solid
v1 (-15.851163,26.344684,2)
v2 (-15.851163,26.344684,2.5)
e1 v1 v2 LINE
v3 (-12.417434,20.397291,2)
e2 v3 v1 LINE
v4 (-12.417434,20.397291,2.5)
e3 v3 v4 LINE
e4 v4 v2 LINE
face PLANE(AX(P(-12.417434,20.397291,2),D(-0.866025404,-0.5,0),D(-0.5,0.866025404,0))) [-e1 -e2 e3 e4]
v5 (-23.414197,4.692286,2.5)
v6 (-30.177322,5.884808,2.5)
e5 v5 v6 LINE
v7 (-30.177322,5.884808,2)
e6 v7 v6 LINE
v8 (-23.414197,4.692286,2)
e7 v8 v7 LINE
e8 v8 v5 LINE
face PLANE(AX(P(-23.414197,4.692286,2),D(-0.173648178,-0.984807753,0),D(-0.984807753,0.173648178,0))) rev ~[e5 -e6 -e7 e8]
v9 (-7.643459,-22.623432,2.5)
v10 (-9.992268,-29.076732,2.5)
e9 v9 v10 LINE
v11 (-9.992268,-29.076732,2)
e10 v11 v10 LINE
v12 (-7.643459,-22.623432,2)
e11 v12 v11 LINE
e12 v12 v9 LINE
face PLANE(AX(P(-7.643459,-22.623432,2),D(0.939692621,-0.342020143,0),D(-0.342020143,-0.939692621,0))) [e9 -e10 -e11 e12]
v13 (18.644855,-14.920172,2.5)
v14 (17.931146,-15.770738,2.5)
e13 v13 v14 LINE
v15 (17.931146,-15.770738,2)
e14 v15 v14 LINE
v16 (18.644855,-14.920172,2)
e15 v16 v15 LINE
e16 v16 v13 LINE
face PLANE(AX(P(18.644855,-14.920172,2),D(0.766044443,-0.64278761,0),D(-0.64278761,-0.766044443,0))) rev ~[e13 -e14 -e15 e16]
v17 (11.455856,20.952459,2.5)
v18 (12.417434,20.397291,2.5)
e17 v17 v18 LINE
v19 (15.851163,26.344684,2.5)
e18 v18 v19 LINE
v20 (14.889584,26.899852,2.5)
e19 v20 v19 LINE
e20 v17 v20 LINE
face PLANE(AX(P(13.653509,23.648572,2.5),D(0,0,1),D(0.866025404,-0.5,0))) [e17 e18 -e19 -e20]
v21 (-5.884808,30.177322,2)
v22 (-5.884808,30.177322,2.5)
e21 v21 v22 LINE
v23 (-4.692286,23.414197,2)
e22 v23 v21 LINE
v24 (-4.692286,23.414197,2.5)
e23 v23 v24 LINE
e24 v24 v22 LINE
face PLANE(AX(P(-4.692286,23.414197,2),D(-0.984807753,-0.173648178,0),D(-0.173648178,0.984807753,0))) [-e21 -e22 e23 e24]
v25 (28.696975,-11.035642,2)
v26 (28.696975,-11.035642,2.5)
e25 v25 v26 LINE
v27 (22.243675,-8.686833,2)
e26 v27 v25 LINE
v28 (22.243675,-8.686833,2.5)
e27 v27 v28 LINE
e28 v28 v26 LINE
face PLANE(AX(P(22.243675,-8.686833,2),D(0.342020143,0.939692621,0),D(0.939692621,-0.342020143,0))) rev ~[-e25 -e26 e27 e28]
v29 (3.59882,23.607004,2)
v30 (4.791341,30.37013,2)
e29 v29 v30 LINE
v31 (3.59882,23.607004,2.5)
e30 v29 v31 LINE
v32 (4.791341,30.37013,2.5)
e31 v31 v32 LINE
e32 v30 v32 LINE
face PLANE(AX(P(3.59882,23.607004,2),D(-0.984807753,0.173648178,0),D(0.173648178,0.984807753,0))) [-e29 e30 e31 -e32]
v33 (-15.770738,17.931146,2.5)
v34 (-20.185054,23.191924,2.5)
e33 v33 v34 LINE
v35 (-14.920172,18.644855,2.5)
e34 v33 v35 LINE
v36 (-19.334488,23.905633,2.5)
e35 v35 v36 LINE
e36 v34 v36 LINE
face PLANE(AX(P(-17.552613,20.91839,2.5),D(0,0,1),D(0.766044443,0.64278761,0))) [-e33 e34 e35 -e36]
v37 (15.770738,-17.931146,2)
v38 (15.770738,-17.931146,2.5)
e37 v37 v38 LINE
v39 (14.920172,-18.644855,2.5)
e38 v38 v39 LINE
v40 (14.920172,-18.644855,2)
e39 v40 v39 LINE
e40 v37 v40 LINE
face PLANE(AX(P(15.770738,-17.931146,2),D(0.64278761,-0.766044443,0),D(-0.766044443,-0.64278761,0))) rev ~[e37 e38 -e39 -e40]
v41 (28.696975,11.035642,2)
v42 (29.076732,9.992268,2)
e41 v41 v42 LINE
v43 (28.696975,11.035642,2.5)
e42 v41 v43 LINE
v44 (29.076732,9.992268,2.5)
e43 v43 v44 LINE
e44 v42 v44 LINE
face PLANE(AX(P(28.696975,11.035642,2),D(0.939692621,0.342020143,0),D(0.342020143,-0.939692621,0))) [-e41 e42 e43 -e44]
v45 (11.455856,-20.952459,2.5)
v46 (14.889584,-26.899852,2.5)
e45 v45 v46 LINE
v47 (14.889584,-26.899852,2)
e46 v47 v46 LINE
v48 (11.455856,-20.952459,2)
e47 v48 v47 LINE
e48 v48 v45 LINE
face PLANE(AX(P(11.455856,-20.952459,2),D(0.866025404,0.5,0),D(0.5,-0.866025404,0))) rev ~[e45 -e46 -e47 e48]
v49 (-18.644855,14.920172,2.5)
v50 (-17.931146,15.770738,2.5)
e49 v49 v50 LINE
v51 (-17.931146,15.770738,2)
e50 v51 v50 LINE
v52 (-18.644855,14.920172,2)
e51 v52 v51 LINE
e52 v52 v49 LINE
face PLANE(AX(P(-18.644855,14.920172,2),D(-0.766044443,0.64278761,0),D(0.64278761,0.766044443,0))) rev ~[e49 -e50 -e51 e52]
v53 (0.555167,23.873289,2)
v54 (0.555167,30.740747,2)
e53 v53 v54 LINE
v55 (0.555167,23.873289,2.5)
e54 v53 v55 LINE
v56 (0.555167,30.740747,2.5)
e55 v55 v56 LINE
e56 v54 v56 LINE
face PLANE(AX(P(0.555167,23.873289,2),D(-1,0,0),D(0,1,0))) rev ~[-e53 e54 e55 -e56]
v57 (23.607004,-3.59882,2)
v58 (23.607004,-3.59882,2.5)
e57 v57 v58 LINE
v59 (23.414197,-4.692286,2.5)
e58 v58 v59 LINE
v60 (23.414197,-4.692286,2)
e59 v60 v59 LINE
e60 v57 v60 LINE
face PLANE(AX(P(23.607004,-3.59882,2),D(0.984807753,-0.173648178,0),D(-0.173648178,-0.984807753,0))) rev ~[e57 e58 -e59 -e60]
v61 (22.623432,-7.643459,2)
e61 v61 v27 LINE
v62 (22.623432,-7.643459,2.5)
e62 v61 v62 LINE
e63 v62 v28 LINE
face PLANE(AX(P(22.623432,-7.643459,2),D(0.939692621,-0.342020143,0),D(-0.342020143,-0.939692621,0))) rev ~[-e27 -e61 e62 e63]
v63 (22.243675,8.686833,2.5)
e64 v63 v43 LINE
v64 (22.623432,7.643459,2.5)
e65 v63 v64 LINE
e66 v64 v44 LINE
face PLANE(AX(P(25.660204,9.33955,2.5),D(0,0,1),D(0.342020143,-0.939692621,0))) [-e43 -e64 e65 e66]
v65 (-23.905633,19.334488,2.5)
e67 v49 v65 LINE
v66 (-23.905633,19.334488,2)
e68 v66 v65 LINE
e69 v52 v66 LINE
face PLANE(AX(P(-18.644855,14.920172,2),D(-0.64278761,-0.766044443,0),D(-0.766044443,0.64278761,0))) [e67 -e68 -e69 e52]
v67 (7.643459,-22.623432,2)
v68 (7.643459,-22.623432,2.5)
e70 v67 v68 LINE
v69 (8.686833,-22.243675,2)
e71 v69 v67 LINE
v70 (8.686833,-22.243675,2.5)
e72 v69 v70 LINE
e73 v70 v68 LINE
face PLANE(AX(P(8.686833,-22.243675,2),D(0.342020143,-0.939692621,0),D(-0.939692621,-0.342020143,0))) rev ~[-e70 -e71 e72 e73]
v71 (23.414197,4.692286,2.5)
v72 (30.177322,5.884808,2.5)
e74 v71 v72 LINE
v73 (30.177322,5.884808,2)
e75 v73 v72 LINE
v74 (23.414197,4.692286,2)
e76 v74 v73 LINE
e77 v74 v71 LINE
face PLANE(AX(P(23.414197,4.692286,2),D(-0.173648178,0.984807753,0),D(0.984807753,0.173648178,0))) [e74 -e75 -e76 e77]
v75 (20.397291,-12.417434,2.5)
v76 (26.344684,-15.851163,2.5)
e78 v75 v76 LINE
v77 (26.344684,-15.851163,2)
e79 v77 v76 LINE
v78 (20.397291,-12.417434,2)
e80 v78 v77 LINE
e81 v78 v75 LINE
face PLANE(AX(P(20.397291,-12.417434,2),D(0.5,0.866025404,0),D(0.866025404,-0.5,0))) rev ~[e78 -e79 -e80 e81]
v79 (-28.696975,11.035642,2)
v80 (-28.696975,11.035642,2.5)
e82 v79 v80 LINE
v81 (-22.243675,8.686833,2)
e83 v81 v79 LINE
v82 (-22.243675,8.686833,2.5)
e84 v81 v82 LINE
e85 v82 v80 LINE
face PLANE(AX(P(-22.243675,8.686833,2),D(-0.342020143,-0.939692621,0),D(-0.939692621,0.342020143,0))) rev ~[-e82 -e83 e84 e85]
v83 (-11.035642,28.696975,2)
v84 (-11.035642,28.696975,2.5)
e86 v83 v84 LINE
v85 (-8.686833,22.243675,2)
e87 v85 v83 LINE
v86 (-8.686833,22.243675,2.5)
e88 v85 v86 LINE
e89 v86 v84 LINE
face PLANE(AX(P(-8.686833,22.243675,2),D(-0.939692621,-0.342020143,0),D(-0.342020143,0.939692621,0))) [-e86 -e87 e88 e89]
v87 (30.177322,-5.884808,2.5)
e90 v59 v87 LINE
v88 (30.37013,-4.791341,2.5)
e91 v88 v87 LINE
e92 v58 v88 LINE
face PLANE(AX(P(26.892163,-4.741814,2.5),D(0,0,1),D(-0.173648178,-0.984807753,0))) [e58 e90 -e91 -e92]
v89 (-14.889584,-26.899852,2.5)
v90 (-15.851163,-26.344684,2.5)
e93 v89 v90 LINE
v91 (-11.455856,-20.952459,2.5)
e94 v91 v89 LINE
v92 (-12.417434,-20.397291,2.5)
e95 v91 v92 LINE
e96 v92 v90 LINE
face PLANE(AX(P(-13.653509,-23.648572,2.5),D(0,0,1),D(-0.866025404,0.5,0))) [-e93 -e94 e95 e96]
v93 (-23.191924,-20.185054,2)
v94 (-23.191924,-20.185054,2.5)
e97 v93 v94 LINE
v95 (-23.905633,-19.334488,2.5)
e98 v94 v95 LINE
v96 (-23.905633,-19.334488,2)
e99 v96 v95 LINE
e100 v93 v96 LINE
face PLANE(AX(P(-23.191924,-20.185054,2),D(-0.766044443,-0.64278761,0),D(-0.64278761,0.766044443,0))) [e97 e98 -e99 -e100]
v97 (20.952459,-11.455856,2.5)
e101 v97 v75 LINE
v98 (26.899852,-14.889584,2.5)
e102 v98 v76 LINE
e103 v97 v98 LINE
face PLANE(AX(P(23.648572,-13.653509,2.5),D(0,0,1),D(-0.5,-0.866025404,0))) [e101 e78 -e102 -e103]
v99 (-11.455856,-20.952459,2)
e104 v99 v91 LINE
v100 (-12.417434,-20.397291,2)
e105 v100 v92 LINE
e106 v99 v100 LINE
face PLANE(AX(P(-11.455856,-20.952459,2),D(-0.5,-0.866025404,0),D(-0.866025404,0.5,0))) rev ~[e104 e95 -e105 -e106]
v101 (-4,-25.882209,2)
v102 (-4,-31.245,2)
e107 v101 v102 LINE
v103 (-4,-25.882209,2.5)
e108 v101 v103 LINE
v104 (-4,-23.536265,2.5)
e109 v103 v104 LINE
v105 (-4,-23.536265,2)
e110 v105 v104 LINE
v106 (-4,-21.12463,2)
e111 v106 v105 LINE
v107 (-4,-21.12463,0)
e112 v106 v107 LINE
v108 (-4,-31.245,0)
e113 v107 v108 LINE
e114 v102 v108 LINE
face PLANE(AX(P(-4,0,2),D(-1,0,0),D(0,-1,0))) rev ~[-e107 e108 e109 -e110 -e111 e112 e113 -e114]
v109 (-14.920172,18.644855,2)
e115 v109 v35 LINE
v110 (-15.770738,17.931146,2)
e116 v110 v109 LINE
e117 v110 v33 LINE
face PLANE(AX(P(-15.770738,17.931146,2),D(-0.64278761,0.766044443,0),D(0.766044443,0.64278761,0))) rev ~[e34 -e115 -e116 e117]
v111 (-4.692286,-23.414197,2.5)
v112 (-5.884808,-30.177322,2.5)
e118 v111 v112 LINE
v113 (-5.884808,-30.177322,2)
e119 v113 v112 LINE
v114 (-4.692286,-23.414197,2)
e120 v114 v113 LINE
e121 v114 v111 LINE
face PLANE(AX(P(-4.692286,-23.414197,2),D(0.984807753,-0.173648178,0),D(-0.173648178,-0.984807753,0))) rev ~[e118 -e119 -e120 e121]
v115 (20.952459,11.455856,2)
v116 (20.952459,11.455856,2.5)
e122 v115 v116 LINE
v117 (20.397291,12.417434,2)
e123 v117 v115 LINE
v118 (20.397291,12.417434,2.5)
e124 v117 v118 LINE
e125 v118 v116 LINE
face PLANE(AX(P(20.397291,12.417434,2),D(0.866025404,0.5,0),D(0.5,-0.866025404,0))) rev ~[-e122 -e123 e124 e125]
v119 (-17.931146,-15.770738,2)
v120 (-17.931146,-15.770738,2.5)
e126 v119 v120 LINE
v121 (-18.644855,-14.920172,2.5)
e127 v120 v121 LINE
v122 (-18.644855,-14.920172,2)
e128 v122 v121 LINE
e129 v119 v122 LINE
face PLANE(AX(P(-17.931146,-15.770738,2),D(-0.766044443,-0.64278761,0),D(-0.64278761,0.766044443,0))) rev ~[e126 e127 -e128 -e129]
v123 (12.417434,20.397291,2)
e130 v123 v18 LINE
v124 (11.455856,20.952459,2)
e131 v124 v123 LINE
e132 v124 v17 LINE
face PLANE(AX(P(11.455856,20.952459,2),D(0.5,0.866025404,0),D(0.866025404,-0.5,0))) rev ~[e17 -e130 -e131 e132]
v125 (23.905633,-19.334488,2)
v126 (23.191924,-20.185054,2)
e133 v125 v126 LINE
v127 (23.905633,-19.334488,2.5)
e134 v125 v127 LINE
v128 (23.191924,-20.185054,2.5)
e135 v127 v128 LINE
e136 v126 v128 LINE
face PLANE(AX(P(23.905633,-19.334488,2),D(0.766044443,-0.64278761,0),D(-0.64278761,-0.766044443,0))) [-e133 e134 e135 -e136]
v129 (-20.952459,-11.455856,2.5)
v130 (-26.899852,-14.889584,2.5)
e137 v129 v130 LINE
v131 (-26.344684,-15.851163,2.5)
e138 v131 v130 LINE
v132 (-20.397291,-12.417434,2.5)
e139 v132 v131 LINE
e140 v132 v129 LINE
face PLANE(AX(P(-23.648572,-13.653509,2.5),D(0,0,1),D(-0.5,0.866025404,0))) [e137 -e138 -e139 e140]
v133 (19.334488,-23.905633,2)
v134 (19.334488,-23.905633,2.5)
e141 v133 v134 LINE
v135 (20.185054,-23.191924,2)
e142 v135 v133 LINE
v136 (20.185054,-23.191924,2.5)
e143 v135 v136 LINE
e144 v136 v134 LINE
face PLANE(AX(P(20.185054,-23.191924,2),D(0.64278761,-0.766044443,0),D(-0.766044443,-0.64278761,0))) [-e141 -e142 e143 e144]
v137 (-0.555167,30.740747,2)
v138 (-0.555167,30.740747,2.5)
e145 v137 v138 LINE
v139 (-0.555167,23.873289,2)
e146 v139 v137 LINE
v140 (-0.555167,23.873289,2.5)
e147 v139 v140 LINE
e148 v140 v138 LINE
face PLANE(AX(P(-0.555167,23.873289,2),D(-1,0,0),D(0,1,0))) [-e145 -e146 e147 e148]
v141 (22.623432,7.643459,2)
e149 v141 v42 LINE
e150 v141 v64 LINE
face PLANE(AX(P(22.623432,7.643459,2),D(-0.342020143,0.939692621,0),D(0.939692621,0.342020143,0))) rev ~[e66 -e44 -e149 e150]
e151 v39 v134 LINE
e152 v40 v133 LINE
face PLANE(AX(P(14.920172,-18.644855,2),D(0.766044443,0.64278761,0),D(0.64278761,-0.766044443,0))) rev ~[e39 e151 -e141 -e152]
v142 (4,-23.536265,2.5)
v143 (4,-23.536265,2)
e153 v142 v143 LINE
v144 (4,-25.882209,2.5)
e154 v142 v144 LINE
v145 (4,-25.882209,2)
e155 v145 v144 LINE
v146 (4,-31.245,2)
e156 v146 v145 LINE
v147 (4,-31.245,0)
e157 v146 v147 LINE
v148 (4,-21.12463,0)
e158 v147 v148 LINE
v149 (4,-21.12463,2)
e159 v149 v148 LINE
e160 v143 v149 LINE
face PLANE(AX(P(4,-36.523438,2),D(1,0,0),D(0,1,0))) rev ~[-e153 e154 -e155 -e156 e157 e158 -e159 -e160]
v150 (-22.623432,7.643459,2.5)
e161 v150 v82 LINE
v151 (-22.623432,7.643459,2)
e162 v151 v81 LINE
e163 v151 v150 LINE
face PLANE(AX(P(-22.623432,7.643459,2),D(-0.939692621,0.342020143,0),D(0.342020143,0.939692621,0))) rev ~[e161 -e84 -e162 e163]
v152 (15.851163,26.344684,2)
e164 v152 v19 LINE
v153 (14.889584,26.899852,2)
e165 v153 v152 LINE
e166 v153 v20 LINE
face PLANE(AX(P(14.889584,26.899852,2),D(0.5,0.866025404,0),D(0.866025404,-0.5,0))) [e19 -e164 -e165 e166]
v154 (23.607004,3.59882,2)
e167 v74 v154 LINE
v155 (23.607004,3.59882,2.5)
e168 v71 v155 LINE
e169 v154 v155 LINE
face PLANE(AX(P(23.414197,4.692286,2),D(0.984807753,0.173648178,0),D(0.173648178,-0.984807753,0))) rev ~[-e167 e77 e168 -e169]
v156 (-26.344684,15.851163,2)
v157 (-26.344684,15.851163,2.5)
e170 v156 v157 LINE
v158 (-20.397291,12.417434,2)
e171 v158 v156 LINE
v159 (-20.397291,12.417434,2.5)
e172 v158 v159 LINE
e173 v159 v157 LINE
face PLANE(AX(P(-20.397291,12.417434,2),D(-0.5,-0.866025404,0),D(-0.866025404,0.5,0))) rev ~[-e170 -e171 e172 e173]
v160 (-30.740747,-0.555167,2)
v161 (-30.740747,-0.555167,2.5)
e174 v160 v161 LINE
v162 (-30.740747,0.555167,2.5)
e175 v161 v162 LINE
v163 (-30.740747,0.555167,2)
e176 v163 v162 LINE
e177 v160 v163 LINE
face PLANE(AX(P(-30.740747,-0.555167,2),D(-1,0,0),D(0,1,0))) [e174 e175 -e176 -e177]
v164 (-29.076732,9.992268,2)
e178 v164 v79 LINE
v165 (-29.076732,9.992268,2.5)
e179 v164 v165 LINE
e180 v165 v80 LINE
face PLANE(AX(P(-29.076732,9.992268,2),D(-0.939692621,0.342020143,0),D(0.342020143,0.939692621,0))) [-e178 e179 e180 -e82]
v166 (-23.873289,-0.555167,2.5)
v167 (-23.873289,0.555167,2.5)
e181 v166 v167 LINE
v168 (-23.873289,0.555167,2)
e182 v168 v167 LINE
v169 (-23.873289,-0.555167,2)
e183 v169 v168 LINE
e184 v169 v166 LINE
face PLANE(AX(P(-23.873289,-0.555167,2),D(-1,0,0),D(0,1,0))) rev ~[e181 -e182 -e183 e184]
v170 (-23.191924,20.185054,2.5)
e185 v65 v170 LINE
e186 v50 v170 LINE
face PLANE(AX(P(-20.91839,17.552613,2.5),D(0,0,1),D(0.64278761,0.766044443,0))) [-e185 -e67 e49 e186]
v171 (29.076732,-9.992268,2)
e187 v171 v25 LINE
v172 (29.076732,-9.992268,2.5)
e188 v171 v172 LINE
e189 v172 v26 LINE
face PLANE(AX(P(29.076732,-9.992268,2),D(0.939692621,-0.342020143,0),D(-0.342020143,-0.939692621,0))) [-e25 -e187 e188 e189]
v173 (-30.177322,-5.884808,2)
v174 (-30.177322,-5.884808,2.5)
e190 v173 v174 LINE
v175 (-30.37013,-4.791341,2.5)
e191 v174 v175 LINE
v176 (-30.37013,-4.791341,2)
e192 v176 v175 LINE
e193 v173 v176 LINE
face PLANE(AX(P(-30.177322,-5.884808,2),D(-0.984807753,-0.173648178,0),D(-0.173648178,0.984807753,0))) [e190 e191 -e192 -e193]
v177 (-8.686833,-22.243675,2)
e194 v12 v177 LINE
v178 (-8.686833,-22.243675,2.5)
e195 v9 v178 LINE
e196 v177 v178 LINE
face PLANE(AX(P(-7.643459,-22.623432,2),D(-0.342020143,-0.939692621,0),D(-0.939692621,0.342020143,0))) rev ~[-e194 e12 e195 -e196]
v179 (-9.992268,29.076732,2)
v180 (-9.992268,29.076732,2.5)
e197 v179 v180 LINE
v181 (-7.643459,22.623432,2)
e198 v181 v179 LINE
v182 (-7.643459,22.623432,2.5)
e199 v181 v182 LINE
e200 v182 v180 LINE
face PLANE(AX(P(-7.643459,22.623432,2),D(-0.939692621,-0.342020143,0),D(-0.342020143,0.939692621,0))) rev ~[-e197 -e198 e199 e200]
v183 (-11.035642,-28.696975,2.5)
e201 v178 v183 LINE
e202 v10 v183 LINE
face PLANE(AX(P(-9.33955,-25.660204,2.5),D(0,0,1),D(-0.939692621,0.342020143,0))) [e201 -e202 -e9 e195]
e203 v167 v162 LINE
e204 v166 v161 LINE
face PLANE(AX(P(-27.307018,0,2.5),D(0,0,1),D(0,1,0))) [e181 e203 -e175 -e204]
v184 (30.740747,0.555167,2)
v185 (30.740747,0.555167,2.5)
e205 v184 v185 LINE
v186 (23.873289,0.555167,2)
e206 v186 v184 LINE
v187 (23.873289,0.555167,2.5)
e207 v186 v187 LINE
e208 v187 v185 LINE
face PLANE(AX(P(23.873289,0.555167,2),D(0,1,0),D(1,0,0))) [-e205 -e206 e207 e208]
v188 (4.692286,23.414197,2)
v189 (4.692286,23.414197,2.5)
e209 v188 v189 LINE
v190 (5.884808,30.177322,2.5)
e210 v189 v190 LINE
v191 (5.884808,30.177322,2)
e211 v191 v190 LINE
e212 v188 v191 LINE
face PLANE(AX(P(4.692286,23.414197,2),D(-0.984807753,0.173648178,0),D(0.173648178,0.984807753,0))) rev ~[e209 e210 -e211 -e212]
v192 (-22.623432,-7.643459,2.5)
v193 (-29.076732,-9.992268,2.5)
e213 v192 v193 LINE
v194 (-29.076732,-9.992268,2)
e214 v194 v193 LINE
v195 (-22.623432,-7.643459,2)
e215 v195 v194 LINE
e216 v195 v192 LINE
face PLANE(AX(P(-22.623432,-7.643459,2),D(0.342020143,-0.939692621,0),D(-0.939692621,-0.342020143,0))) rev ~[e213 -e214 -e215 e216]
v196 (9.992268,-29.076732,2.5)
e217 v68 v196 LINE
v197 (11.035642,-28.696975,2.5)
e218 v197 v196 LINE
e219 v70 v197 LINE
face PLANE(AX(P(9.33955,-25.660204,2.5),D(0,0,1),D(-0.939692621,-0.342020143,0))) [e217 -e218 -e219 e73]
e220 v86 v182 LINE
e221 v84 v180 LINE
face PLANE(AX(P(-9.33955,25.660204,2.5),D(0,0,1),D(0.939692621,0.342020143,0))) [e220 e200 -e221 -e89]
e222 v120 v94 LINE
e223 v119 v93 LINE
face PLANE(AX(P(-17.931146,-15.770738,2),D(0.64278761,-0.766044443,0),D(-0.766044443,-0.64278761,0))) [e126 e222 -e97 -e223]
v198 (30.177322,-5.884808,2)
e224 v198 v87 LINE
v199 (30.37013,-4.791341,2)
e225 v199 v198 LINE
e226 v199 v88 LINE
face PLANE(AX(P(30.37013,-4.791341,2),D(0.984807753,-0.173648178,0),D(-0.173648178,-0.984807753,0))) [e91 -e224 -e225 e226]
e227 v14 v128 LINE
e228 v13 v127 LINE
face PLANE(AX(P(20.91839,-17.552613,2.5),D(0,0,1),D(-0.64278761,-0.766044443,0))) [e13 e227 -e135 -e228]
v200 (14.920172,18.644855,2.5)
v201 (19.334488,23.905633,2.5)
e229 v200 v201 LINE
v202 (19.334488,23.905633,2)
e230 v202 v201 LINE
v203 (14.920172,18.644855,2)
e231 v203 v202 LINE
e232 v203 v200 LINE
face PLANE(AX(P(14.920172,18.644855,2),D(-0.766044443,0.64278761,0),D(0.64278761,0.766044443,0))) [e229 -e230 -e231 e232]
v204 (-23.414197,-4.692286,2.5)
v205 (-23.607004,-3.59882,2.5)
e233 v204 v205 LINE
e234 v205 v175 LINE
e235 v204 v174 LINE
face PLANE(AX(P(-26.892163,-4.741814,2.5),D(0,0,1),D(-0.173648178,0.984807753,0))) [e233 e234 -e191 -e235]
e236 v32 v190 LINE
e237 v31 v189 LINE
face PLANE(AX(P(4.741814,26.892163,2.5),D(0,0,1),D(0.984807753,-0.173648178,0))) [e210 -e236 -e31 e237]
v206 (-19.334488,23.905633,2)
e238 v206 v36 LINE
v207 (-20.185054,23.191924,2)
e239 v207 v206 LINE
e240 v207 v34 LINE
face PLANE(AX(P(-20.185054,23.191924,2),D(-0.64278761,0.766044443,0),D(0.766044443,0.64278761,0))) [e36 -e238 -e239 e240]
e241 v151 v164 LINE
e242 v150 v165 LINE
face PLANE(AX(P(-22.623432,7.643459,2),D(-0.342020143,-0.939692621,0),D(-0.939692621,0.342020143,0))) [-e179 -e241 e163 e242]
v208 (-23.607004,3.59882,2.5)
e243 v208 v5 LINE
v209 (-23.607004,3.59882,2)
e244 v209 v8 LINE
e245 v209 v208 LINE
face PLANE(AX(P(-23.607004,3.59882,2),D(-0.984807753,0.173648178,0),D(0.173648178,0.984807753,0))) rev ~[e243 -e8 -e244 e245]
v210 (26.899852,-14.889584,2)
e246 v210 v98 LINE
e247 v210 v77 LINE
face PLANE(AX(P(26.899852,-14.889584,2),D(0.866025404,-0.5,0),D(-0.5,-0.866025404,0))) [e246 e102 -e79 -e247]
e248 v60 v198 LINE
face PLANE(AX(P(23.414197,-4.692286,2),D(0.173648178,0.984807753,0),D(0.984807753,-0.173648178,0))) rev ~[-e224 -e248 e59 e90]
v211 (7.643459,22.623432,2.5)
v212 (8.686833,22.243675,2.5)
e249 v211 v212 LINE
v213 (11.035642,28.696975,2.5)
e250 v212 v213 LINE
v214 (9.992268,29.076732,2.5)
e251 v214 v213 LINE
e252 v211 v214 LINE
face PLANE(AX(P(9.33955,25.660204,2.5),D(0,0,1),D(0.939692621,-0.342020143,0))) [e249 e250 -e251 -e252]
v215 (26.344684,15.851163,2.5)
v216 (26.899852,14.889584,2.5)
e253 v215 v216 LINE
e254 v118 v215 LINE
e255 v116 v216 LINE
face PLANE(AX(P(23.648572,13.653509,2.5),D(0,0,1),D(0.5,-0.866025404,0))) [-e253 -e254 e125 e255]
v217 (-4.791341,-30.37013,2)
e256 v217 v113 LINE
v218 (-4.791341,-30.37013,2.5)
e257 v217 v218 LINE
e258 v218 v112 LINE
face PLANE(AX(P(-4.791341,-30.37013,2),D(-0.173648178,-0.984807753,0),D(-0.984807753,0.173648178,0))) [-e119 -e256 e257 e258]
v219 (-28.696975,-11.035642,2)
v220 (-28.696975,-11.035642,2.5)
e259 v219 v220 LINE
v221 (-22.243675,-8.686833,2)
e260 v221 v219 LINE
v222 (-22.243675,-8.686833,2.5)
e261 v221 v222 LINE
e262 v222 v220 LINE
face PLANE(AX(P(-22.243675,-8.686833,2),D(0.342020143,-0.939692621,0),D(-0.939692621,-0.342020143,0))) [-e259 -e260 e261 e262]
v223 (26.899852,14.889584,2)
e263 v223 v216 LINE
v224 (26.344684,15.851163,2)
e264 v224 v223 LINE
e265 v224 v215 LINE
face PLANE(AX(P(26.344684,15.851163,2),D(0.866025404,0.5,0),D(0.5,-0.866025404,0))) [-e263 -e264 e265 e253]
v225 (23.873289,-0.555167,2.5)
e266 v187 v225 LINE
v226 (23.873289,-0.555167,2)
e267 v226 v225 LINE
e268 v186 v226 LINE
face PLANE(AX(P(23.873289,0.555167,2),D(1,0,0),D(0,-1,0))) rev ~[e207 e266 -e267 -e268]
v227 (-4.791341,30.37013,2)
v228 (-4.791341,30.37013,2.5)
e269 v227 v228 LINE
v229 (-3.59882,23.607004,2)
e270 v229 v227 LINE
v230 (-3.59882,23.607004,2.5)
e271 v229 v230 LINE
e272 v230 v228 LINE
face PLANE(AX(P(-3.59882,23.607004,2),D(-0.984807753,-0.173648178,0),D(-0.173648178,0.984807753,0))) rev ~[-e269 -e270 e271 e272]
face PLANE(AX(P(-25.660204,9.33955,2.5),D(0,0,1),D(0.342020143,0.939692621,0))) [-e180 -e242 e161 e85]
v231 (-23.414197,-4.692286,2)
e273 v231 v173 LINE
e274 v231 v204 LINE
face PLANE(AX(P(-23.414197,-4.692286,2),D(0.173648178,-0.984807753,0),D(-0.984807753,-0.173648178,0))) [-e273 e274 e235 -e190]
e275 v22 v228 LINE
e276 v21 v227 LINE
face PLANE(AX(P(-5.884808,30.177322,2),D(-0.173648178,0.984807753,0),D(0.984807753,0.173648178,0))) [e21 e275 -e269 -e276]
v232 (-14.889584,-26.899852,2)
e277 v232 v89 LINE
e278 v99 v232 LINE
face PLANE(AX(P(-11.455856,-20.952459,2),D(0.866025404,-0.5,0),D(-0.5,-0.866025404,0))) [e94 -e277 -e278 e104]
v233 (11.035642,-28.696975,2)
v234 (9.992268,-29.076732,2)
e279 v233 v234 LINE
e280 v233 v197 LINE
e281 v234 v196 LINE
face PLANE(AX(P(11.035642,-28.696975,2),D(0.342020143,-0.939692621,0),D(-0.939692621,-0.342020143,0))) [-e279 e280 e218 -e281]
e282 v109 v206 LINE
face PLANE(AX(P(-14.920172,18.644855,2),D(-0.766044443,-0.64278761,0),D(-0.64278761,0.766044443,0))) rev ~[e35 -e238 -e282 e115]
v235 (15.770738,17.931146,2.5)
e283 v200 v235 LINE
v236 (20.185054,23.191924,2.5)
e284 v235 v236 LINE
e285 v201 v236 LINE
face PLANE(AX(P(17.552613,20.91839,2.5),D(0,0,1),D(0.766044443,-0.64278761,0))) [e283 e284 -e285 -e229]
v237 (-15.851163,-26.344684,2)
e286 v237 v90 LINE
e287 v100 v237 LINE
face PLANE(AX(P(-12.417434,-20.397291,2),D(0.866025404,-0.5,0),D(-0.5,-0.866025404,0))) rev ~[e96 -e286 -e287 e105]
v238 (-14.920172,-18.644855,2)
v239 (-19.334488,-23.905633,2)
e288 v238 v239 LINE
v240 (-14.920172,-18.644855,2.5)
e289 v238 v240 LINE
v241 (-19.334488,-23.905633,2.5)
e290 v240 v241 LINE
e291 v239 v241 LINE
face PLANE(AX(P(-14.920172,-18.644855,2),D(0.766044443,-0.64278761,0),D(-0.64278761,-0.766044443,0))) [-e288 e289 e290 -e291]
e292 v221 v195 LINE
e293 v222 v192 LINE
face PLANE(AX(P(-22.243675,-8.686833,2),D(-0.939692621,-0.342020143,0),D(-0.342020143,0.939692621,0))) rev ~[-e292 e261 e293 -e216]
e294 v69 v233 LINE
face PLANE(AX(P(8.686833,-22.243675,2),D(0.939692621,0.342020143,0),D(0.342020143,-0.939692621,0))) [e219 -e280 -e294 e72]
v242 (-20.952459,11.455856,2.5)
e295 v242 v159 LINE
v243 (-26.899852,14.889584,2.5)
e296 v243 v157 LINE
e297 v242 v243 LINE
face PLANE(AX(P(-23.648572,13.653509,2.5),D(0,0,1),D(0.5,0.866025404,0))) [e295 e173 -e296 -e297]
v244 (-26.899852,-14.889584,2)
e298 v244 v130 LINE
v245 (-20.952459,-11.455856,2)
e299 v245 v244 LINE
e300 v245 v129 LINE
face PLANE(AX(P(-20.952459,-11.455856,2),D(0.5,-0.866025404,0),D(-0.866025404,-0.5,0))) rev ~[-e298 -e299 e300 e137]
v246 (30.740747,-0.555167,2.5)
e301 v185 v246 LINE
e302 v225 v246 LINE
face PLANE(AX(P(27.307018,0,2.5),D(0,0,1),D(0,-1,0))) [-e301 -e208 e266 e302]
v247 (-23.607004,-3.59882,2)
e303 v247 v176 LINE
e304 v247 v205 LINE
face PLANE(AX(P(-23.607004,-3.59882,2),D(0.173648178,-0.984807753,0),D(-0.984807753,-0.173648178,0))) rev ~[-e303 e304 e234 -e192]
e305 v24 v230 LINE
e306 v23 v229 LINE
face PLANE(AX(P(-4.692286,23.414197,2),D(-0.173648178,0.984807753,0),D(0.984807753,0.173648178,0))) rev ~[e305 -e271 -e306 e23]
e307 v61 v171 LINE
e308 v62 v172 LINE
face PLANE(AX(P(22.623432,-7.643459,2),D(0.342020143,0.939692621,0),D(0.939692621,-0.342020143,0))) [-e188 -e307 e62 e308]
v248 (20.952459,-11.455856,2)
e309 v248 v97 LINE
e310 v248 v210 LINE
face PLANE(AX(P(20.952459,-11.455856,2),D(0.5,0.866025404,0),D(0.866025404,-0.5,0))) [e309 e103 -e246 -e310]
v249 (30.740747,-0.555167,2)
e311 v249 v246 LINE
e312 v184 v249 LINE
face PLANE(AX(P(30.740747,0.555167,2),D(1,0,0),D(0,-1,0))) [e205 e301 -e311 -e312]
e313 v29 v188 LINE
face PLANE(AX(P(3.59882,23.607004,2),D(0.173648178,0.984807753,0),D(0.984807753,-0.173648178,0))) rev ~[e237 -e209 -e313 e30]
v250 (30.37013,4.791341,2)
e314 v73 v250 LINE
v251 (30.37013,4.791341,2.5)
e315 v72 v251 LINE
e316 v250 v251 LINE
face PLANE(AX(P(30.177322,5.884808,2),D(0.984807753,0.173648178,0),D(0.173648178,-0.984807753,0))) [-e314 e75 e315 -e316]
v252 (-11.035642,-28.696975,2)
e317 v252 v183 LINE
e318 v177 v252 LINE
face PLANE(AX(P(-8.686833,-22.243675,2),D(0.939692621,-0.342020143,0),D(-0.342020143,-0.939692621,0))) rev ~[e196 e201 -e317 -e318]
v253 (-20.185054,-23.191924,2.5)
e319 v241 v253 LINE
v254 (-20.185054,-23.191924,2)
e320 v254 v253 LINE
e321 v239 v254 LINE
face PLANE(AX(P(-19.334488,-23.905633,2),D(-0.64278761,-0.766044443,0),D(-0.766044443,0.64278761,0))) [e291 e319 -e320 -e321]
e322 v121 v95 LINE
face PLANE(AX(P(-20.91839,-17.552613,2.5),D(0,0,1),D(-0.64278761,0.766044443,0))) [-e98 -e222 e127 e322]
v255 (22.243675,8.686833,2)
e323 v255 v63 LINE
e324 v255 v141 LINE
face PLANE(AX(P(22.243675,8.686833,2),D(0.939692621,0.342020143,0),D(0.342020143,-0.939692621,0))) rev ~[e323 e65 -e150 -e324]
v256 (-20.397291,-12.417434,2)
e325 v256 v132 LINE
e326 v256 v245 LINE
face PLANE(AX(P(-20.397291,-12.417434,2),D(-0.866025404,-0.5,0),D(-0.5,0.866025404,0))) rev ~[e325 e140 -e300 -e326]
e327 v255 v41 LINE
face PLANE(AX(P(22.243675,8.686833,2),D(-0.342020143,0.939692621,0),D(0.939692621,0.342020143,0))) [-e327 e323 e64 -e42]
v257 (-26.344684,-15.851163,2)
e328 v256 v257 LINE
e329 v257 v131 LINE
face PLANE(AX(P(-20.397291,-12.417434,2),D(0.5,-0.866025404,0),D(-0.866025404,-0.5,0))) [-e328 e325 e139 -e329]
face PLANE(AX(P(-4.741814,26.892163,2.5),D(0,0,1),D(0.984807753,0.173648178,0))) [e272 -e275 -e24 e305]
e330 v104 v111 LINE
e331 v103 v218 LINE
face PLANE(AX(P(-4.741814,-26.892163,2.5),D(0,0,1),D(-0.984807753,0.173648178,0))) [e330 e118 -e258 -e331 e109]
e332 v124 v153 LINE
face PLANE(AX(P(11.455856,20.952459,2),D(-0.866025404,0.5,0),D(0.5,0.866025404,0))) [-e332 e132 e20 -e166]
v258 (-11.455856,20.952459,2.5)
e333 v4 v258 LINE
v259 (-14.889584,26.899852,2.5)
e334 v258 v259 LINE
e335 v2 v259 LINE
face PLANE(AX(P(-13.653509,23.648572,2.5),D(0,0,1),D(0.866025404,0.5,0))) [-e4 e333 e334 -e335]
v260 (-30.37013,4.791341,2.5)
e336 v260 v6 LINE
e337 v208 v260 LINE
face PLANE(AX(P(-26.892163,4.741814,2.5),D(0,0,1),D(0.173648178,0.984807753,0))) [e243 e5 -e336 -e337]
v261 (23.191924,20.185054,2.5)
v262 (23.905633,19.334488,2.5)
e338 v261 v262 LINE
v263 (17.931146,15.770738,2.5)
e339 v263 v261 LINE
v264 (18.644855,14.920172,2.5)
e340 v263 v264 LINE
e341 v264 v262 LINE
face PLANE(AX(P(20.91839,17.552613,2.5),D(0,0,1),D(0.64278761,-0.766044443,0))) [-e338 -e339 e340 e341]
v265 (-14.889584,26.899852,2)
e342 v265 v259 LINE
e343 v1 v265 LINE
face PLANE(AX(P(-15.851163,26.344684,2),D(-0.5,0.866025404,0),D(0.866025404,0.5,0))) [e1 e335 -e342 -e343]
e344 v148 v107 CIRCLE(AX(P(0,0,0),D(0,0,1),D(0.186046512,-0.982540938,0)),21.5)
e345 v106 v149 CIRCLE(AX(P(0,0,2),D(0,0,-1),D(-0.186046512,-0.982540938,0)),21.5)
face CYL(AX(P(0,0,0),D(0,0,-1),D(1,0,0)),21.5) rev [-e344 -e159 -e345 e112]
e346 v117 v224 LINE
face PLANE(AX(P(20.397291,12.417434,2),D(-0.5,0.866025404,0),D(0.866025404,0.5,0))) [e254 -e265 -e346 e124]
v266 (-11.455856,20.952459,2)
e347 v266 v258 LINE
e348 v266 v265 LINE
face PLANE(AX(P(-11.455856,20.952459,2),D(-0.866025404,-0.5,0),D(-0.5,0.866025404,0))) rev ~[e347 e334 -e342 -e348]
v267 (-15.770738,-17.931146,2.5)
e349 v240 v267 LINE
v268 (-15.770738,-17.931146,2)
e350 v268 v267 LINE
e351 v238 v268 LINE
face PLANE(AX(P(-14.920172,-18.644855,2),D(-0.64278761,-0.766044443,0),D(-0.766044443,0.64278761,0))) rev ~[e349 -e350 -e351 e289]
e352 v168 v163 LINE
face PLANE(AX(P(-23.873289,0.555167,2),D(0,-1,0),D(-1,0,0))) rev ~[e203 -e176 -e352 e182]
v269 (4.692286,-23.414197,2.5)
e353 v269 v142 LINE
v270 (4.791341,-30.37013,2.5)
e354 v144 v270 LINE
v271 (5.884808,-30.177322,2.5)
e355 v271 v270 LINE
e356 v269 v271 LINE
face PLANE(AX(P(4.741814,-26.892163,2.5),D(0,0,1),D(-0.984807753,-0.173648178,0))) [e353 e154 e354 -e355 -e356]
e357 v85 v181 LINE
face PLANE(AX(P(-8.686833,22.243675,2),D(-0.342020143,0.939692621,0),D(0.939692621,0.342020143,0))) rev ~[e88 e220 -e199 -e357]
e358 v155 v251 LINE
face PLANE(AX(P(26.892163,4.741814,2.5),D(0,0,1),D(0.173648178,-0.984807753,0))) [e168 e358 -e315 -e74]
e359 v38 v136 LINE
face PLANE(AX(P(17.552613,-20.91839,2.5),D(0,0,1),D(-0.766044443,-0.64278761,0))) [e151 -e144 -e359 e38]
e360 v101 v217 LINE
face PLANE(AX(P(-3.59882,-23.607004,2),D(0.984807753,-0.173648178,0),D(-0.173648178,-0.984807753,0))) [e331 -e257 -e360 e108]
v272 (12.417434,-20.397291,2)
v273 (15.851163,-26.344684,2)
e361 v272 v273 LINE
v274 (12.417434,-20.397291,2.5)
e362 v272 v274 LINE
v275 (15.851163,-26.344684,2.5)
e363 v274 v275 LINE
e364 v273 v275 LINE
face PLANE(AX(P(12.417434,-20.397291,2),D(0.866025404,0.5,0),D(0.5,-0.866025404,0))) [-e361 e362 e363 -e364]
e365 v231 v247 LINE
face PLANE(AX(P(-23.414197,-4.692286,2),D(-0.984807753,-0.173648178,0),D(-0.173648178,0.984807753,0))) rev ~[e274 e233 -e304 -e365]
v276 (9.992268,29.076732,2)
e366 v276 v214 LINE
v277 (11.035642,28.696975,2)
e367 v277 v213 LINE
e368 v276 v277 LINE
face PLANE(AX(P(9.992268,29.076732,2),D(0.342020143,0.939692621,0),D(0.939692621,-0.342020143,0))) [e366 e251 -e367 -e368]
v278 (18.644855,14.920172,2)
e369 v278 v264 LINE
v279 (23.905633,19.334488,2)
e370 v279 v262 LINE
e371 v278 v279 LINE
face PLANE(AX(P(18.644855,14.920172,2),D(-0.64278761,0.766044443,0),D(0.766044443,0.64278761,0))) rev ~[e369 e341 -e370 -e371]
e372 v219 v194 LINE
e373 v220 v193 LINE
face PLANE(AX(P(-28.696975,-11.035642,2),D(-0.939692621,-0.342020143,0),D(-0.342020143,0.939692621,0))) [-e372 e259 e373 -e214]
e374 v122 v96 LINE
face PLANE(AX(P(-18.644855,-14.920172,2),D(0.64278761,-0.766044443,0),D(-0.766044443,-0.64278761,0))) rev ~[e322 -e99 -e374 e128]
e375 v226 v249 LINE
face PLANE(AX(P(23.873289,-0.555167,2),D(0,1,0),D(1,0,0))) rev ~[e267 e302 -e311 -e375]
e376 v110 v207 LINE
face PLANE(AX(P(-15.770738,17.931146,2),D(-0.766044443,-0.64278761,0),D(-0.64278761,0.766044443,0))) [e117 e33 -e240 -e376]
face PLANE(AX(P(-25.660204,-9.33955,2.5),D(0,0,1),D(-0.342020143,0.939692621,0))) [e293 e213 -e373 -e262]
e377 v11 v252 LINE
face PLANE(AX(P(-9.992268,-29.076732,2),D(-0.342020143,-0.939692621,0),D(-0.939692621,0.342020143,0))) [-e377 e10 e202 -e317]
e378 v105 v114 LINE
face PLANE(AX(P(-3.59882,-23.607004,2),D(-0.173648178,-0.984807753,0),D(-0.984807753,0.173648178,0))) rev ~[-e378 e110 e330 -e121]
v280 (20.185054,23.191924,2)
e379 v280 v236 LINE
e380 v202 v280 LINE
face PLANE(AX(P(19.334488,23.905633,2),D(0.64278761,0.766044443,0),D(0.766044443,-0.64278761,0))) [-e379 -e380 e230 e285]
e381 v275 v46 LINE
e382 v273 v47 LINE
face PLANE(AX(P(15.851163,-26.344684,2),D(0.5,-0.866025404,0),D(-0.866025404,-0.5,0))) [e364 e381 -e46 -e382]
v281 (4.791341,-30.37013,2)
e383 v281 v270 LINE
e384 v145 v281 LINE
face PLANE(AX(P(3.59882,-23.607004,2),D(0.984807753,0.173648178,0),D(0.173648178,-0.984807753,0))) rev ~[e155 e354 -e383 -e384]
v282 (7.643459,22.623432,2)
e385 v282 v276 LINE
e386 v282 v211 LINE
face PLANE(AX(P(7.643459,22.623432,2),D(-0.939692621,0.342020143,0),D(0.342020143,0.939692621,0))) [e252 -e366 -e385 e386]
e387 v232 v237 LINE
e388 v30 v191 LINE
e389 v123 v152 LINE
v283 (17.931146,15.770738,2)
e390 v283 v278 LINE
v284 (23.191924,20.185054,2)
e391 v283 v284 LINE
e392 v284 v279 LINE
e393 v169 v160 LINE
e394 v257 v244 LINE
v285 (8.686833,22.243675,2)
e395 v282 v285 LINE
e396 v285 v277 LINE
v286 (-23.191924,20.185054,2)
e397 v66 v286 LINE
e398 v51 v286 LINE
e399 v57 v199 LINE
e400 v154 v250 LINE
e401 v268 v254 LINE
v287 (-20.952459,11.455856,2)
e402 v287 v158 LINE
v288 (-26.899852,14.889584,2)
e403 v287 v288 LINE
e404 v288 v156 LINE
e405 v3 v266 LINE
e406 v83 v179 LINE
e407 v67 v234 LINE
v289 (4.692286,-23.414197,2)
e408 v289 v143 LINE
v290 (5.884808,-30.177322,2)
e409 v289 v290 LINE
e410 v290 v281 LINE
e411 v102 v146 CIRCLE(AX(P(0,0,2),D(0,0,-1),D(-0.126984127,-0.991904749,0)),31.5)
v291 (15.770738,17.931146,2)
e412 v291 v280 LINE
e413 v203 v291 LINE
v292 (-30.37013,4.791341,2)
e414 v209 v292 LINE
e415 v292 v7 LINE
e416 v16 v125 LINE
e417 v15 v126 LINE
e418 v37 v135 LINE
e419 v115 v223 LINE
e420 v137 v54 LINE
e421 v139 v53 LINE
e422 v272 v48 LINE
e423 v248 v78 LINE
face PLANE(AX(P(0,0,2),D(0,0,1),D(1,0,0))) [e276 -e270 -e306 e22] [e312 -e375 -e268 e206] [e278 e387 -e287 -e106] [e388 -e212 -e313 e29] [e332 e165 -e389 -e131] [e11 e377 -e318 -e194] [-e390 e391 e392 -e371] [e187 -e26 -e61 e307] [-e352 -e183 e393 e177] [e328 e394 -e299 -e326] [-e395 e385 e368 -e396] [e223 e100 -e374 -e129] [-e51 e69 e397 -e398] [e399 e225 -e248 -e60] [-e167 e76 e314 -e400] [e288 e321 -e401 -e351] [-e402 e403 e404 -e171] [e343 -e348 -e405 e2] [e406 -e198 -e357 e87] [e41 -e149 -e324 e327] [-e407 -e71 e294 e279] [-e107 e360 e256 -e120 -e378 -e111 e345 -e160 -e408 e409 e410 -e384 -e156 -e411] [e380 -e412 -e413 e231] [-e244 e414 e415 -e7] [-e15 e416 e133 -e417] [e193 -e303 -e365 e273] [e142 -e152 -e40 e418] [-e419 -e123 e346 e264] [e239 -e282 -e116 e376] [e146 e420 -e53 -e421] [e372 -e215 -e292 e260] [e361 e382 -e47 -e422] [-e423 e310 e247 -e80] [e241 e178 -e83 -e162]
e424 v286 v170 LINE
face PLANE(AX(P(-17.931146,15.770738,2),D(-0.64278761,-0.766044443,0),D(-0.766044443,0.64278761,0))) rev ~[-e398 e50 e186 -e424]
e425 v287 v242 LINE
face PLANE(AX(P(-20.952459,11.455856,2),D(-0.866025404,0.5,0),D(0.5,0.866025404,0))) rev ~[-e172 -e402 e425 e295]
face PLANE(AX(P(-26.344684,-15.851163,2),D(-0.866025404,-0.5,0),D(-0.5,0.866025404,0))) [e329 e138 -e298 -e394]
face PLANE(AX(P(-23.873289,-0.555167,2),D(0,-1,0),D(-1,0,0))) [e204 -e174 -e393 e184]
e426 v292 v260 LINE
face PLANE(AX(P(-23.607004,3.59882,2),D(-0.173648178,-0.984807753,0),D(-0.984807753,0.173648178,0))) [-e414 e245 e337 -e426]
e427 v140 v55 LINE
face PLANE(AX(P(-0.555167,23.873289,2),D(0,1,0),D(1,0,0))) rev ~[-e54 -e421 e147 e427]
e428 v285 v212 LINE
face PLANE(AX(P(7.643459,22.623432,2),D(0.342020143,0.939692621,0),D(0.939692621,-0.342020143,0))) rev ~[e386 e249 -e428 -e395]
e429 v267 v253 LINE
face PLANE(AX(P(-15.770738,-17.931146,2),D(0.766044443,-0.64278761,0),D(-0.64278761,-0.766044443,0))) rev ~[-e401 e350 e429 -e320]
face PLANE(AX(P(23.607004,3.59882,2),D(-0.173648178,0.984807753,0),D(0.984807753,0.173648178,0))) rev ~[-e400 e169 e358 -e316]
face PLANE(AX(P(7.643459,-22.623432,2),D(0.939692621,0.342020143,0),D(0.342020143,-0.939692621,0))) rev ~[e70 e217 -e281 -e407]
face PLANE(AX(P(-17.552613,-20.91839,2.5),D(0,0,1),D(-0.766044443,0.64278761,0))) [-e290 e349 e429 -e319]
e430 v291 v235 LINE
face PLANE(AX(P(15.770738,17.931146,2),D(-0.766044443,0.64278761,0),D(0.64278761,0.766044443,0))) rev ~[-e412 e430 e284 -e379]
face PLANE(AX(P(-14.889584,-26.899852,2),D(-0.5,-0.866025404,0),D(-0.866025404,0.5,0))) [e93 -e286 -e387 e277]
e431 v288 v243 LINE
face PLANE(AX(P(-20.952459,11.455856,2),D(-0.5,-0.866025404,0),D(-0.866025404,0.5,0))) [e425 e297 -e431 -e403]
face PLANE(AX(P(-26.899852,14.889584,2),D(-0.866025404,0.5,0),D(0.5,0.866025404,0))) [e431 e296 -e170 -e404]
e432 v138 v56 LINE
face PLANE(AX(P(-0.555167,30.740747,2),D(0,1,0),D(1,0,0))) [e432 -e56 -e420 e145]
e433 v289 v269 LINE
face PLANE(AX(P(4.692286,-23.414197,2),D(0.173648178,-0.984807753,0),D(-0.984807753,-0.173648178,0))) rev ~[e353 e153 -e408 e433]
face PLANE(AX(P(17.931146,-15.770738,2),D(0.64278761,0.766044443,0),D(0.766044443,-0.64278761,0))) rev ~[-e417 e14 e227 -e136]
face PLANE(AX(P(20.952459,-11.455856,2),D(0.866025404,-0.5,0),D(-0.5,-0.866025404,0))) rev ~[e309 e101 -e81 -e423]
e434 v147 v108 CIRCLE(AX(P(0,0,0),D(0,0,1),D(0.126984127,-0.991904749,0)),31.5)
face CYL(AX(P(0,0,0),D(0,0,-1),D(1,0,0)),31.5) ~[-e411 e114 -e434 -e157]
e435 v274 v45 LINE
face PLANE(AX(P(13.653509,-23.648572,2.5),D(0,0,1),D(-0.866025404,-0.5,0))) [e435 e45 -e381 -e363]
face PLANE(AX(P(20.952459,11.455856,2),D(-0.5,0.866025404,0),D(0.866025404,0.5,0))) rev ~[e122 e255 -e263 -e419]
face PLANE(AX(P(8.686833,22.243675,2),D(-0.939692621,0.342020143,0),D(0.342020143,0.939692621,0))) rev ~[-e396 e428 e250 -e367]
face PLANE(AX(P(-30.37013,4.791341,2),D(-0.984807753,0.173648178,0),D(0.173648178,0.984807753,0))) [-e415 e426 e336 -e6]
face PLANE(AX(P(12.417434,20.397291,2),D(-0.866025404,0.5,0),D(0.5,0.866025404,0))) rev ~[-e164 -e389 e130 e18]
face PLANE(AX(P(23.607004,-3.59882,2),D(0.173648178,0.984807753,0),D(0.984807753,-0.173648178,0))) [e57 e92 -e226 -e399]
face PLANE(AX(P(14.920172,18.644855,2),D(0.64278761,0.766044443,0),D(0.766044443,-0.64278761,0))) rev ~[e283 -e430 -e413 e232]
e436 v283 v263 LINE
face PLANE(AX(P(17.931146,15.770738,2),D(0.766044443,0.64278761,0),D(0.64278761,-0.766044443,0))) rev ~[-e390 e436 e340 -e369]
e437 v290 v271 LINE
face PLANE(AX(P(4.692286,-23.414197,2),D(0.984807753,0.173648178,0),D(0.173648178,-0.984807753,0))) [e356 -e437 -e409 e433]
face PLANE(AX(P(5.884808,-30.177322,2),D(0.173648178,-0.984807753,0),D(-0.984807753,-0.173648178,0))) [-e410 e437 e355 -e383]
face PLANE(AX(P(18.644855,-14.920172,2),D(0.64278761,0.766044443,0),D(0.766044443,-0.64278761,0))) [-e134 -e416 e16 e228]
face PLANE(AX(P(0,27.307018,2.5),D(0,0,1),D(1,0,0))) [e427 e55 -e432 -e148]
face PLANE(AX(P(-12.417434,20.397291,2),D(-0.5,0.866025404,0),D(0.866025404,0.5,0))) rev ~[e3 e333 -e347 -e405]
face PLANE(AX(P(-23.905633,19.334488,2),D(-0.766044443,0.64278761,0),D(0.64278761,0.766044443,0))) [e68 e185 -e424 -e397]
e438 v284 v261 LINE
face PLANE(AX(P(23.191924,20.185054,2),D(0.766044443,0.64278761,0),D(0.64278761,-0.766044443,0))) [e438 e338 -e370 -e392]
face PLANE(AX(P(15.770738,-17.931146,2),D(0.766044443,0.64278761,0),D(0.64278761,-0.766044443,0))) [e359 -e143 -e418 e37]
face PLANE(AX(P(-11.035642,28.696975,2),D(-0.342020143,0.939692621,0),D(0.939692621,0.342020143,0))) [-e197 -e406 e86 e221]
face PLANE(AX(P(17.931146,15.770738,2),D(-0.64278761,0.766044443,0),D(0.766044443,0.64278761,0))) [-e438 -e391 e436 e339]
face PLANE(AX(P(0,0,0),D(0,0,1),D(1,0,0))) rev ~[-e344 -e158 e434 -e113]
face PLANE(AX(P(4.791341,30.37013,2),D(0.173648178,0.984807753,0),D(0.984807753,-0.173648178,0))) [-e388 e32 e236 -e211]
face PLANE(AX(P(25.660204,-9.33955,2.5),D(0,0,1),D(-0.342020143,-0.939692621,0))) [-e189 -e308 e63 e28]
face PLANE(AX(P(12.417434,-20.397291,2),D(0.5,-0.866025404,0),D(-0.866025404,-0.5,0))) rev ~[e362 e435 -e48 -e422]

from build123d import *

# Parameters (mm, degrees)
ESQUISSE1_R                  = 31.5
ESQUISSE1_R_2                = 21.5
BOSS_EXTRU_1_DEPTH           = 2
ESQUISSE2_W                  = 1.11033496
ESQUISSE2_H                  = 6.867457902
BOSS_EXTRU_2_DEPTH           = 0.5
R_P_TITION_CIRCULAIRE1_COUNT = 36
ENL_V_MAT_EXTRU_4_DEPTH      = 1.5
ENL_V_MAT_EXTRU_4_DEPTH_BACK = 3


with BuildPart() as part:
    # Esquisse1 → Boss.-Extru.1 (new body)
    with BuildSketch(Plane.XY):
        Circle(ESQUISSE1_R)
        Circle(ESQUISSE1_R_2, mode=Mode.SUBTRACT)
    extrude(amount=BOSS_EXTRU_1_DEPTH)

    # Esquisse2 → Boss.-Extru.2 (add)
    with BuildSketch(Plane.XY.offset(2)):
        with Locations((0, 27.30701826)):
            Rectangle(ESQUISSE2_W, ESQUISSE2_H)
    boss_extru_2 = extrude(amount=BOSS_EXTRU_2_DEPTH)

    # Répétition circulaire1: Boss.-Extru.2 ×36 about axis
    r_p_tition_circulaire1_axis = Axis((0, 0, 0), (0, 0, 1))
    for i in range(1, R_P_TITION_CIRCULAIRE1_COUNT):
        add(boss_extru_2.rotate(r_p_tition_circulaire1_axis, i * 360 / R_P_TITION_CIRCULAIRE1_COUNT))

    # Esquisse3 → Enlèv. mat.-Extru.4 (cut, two sides)
    with BuildSketch(Plane.XY.offset(2)) as enl_v_mat_extru_4_sk:
        Polygon((0, 0), (-4, 0), (-4, -36.523437731), (0, -36.523437731), (4, -36.523437731), (4, 0), align=None)
    extrude(amount=ENL_V_MAT_EXTRU_4_DEPTH, mode=Mode.SUBTRACT)
    extrude(enl_v_mat_extru_4_sk.sketch, amount=-ENL_V_MAT_EXTRU_4_DEPTH_BACK, mode=Mode.SUBTRACT)


solid = part.part
